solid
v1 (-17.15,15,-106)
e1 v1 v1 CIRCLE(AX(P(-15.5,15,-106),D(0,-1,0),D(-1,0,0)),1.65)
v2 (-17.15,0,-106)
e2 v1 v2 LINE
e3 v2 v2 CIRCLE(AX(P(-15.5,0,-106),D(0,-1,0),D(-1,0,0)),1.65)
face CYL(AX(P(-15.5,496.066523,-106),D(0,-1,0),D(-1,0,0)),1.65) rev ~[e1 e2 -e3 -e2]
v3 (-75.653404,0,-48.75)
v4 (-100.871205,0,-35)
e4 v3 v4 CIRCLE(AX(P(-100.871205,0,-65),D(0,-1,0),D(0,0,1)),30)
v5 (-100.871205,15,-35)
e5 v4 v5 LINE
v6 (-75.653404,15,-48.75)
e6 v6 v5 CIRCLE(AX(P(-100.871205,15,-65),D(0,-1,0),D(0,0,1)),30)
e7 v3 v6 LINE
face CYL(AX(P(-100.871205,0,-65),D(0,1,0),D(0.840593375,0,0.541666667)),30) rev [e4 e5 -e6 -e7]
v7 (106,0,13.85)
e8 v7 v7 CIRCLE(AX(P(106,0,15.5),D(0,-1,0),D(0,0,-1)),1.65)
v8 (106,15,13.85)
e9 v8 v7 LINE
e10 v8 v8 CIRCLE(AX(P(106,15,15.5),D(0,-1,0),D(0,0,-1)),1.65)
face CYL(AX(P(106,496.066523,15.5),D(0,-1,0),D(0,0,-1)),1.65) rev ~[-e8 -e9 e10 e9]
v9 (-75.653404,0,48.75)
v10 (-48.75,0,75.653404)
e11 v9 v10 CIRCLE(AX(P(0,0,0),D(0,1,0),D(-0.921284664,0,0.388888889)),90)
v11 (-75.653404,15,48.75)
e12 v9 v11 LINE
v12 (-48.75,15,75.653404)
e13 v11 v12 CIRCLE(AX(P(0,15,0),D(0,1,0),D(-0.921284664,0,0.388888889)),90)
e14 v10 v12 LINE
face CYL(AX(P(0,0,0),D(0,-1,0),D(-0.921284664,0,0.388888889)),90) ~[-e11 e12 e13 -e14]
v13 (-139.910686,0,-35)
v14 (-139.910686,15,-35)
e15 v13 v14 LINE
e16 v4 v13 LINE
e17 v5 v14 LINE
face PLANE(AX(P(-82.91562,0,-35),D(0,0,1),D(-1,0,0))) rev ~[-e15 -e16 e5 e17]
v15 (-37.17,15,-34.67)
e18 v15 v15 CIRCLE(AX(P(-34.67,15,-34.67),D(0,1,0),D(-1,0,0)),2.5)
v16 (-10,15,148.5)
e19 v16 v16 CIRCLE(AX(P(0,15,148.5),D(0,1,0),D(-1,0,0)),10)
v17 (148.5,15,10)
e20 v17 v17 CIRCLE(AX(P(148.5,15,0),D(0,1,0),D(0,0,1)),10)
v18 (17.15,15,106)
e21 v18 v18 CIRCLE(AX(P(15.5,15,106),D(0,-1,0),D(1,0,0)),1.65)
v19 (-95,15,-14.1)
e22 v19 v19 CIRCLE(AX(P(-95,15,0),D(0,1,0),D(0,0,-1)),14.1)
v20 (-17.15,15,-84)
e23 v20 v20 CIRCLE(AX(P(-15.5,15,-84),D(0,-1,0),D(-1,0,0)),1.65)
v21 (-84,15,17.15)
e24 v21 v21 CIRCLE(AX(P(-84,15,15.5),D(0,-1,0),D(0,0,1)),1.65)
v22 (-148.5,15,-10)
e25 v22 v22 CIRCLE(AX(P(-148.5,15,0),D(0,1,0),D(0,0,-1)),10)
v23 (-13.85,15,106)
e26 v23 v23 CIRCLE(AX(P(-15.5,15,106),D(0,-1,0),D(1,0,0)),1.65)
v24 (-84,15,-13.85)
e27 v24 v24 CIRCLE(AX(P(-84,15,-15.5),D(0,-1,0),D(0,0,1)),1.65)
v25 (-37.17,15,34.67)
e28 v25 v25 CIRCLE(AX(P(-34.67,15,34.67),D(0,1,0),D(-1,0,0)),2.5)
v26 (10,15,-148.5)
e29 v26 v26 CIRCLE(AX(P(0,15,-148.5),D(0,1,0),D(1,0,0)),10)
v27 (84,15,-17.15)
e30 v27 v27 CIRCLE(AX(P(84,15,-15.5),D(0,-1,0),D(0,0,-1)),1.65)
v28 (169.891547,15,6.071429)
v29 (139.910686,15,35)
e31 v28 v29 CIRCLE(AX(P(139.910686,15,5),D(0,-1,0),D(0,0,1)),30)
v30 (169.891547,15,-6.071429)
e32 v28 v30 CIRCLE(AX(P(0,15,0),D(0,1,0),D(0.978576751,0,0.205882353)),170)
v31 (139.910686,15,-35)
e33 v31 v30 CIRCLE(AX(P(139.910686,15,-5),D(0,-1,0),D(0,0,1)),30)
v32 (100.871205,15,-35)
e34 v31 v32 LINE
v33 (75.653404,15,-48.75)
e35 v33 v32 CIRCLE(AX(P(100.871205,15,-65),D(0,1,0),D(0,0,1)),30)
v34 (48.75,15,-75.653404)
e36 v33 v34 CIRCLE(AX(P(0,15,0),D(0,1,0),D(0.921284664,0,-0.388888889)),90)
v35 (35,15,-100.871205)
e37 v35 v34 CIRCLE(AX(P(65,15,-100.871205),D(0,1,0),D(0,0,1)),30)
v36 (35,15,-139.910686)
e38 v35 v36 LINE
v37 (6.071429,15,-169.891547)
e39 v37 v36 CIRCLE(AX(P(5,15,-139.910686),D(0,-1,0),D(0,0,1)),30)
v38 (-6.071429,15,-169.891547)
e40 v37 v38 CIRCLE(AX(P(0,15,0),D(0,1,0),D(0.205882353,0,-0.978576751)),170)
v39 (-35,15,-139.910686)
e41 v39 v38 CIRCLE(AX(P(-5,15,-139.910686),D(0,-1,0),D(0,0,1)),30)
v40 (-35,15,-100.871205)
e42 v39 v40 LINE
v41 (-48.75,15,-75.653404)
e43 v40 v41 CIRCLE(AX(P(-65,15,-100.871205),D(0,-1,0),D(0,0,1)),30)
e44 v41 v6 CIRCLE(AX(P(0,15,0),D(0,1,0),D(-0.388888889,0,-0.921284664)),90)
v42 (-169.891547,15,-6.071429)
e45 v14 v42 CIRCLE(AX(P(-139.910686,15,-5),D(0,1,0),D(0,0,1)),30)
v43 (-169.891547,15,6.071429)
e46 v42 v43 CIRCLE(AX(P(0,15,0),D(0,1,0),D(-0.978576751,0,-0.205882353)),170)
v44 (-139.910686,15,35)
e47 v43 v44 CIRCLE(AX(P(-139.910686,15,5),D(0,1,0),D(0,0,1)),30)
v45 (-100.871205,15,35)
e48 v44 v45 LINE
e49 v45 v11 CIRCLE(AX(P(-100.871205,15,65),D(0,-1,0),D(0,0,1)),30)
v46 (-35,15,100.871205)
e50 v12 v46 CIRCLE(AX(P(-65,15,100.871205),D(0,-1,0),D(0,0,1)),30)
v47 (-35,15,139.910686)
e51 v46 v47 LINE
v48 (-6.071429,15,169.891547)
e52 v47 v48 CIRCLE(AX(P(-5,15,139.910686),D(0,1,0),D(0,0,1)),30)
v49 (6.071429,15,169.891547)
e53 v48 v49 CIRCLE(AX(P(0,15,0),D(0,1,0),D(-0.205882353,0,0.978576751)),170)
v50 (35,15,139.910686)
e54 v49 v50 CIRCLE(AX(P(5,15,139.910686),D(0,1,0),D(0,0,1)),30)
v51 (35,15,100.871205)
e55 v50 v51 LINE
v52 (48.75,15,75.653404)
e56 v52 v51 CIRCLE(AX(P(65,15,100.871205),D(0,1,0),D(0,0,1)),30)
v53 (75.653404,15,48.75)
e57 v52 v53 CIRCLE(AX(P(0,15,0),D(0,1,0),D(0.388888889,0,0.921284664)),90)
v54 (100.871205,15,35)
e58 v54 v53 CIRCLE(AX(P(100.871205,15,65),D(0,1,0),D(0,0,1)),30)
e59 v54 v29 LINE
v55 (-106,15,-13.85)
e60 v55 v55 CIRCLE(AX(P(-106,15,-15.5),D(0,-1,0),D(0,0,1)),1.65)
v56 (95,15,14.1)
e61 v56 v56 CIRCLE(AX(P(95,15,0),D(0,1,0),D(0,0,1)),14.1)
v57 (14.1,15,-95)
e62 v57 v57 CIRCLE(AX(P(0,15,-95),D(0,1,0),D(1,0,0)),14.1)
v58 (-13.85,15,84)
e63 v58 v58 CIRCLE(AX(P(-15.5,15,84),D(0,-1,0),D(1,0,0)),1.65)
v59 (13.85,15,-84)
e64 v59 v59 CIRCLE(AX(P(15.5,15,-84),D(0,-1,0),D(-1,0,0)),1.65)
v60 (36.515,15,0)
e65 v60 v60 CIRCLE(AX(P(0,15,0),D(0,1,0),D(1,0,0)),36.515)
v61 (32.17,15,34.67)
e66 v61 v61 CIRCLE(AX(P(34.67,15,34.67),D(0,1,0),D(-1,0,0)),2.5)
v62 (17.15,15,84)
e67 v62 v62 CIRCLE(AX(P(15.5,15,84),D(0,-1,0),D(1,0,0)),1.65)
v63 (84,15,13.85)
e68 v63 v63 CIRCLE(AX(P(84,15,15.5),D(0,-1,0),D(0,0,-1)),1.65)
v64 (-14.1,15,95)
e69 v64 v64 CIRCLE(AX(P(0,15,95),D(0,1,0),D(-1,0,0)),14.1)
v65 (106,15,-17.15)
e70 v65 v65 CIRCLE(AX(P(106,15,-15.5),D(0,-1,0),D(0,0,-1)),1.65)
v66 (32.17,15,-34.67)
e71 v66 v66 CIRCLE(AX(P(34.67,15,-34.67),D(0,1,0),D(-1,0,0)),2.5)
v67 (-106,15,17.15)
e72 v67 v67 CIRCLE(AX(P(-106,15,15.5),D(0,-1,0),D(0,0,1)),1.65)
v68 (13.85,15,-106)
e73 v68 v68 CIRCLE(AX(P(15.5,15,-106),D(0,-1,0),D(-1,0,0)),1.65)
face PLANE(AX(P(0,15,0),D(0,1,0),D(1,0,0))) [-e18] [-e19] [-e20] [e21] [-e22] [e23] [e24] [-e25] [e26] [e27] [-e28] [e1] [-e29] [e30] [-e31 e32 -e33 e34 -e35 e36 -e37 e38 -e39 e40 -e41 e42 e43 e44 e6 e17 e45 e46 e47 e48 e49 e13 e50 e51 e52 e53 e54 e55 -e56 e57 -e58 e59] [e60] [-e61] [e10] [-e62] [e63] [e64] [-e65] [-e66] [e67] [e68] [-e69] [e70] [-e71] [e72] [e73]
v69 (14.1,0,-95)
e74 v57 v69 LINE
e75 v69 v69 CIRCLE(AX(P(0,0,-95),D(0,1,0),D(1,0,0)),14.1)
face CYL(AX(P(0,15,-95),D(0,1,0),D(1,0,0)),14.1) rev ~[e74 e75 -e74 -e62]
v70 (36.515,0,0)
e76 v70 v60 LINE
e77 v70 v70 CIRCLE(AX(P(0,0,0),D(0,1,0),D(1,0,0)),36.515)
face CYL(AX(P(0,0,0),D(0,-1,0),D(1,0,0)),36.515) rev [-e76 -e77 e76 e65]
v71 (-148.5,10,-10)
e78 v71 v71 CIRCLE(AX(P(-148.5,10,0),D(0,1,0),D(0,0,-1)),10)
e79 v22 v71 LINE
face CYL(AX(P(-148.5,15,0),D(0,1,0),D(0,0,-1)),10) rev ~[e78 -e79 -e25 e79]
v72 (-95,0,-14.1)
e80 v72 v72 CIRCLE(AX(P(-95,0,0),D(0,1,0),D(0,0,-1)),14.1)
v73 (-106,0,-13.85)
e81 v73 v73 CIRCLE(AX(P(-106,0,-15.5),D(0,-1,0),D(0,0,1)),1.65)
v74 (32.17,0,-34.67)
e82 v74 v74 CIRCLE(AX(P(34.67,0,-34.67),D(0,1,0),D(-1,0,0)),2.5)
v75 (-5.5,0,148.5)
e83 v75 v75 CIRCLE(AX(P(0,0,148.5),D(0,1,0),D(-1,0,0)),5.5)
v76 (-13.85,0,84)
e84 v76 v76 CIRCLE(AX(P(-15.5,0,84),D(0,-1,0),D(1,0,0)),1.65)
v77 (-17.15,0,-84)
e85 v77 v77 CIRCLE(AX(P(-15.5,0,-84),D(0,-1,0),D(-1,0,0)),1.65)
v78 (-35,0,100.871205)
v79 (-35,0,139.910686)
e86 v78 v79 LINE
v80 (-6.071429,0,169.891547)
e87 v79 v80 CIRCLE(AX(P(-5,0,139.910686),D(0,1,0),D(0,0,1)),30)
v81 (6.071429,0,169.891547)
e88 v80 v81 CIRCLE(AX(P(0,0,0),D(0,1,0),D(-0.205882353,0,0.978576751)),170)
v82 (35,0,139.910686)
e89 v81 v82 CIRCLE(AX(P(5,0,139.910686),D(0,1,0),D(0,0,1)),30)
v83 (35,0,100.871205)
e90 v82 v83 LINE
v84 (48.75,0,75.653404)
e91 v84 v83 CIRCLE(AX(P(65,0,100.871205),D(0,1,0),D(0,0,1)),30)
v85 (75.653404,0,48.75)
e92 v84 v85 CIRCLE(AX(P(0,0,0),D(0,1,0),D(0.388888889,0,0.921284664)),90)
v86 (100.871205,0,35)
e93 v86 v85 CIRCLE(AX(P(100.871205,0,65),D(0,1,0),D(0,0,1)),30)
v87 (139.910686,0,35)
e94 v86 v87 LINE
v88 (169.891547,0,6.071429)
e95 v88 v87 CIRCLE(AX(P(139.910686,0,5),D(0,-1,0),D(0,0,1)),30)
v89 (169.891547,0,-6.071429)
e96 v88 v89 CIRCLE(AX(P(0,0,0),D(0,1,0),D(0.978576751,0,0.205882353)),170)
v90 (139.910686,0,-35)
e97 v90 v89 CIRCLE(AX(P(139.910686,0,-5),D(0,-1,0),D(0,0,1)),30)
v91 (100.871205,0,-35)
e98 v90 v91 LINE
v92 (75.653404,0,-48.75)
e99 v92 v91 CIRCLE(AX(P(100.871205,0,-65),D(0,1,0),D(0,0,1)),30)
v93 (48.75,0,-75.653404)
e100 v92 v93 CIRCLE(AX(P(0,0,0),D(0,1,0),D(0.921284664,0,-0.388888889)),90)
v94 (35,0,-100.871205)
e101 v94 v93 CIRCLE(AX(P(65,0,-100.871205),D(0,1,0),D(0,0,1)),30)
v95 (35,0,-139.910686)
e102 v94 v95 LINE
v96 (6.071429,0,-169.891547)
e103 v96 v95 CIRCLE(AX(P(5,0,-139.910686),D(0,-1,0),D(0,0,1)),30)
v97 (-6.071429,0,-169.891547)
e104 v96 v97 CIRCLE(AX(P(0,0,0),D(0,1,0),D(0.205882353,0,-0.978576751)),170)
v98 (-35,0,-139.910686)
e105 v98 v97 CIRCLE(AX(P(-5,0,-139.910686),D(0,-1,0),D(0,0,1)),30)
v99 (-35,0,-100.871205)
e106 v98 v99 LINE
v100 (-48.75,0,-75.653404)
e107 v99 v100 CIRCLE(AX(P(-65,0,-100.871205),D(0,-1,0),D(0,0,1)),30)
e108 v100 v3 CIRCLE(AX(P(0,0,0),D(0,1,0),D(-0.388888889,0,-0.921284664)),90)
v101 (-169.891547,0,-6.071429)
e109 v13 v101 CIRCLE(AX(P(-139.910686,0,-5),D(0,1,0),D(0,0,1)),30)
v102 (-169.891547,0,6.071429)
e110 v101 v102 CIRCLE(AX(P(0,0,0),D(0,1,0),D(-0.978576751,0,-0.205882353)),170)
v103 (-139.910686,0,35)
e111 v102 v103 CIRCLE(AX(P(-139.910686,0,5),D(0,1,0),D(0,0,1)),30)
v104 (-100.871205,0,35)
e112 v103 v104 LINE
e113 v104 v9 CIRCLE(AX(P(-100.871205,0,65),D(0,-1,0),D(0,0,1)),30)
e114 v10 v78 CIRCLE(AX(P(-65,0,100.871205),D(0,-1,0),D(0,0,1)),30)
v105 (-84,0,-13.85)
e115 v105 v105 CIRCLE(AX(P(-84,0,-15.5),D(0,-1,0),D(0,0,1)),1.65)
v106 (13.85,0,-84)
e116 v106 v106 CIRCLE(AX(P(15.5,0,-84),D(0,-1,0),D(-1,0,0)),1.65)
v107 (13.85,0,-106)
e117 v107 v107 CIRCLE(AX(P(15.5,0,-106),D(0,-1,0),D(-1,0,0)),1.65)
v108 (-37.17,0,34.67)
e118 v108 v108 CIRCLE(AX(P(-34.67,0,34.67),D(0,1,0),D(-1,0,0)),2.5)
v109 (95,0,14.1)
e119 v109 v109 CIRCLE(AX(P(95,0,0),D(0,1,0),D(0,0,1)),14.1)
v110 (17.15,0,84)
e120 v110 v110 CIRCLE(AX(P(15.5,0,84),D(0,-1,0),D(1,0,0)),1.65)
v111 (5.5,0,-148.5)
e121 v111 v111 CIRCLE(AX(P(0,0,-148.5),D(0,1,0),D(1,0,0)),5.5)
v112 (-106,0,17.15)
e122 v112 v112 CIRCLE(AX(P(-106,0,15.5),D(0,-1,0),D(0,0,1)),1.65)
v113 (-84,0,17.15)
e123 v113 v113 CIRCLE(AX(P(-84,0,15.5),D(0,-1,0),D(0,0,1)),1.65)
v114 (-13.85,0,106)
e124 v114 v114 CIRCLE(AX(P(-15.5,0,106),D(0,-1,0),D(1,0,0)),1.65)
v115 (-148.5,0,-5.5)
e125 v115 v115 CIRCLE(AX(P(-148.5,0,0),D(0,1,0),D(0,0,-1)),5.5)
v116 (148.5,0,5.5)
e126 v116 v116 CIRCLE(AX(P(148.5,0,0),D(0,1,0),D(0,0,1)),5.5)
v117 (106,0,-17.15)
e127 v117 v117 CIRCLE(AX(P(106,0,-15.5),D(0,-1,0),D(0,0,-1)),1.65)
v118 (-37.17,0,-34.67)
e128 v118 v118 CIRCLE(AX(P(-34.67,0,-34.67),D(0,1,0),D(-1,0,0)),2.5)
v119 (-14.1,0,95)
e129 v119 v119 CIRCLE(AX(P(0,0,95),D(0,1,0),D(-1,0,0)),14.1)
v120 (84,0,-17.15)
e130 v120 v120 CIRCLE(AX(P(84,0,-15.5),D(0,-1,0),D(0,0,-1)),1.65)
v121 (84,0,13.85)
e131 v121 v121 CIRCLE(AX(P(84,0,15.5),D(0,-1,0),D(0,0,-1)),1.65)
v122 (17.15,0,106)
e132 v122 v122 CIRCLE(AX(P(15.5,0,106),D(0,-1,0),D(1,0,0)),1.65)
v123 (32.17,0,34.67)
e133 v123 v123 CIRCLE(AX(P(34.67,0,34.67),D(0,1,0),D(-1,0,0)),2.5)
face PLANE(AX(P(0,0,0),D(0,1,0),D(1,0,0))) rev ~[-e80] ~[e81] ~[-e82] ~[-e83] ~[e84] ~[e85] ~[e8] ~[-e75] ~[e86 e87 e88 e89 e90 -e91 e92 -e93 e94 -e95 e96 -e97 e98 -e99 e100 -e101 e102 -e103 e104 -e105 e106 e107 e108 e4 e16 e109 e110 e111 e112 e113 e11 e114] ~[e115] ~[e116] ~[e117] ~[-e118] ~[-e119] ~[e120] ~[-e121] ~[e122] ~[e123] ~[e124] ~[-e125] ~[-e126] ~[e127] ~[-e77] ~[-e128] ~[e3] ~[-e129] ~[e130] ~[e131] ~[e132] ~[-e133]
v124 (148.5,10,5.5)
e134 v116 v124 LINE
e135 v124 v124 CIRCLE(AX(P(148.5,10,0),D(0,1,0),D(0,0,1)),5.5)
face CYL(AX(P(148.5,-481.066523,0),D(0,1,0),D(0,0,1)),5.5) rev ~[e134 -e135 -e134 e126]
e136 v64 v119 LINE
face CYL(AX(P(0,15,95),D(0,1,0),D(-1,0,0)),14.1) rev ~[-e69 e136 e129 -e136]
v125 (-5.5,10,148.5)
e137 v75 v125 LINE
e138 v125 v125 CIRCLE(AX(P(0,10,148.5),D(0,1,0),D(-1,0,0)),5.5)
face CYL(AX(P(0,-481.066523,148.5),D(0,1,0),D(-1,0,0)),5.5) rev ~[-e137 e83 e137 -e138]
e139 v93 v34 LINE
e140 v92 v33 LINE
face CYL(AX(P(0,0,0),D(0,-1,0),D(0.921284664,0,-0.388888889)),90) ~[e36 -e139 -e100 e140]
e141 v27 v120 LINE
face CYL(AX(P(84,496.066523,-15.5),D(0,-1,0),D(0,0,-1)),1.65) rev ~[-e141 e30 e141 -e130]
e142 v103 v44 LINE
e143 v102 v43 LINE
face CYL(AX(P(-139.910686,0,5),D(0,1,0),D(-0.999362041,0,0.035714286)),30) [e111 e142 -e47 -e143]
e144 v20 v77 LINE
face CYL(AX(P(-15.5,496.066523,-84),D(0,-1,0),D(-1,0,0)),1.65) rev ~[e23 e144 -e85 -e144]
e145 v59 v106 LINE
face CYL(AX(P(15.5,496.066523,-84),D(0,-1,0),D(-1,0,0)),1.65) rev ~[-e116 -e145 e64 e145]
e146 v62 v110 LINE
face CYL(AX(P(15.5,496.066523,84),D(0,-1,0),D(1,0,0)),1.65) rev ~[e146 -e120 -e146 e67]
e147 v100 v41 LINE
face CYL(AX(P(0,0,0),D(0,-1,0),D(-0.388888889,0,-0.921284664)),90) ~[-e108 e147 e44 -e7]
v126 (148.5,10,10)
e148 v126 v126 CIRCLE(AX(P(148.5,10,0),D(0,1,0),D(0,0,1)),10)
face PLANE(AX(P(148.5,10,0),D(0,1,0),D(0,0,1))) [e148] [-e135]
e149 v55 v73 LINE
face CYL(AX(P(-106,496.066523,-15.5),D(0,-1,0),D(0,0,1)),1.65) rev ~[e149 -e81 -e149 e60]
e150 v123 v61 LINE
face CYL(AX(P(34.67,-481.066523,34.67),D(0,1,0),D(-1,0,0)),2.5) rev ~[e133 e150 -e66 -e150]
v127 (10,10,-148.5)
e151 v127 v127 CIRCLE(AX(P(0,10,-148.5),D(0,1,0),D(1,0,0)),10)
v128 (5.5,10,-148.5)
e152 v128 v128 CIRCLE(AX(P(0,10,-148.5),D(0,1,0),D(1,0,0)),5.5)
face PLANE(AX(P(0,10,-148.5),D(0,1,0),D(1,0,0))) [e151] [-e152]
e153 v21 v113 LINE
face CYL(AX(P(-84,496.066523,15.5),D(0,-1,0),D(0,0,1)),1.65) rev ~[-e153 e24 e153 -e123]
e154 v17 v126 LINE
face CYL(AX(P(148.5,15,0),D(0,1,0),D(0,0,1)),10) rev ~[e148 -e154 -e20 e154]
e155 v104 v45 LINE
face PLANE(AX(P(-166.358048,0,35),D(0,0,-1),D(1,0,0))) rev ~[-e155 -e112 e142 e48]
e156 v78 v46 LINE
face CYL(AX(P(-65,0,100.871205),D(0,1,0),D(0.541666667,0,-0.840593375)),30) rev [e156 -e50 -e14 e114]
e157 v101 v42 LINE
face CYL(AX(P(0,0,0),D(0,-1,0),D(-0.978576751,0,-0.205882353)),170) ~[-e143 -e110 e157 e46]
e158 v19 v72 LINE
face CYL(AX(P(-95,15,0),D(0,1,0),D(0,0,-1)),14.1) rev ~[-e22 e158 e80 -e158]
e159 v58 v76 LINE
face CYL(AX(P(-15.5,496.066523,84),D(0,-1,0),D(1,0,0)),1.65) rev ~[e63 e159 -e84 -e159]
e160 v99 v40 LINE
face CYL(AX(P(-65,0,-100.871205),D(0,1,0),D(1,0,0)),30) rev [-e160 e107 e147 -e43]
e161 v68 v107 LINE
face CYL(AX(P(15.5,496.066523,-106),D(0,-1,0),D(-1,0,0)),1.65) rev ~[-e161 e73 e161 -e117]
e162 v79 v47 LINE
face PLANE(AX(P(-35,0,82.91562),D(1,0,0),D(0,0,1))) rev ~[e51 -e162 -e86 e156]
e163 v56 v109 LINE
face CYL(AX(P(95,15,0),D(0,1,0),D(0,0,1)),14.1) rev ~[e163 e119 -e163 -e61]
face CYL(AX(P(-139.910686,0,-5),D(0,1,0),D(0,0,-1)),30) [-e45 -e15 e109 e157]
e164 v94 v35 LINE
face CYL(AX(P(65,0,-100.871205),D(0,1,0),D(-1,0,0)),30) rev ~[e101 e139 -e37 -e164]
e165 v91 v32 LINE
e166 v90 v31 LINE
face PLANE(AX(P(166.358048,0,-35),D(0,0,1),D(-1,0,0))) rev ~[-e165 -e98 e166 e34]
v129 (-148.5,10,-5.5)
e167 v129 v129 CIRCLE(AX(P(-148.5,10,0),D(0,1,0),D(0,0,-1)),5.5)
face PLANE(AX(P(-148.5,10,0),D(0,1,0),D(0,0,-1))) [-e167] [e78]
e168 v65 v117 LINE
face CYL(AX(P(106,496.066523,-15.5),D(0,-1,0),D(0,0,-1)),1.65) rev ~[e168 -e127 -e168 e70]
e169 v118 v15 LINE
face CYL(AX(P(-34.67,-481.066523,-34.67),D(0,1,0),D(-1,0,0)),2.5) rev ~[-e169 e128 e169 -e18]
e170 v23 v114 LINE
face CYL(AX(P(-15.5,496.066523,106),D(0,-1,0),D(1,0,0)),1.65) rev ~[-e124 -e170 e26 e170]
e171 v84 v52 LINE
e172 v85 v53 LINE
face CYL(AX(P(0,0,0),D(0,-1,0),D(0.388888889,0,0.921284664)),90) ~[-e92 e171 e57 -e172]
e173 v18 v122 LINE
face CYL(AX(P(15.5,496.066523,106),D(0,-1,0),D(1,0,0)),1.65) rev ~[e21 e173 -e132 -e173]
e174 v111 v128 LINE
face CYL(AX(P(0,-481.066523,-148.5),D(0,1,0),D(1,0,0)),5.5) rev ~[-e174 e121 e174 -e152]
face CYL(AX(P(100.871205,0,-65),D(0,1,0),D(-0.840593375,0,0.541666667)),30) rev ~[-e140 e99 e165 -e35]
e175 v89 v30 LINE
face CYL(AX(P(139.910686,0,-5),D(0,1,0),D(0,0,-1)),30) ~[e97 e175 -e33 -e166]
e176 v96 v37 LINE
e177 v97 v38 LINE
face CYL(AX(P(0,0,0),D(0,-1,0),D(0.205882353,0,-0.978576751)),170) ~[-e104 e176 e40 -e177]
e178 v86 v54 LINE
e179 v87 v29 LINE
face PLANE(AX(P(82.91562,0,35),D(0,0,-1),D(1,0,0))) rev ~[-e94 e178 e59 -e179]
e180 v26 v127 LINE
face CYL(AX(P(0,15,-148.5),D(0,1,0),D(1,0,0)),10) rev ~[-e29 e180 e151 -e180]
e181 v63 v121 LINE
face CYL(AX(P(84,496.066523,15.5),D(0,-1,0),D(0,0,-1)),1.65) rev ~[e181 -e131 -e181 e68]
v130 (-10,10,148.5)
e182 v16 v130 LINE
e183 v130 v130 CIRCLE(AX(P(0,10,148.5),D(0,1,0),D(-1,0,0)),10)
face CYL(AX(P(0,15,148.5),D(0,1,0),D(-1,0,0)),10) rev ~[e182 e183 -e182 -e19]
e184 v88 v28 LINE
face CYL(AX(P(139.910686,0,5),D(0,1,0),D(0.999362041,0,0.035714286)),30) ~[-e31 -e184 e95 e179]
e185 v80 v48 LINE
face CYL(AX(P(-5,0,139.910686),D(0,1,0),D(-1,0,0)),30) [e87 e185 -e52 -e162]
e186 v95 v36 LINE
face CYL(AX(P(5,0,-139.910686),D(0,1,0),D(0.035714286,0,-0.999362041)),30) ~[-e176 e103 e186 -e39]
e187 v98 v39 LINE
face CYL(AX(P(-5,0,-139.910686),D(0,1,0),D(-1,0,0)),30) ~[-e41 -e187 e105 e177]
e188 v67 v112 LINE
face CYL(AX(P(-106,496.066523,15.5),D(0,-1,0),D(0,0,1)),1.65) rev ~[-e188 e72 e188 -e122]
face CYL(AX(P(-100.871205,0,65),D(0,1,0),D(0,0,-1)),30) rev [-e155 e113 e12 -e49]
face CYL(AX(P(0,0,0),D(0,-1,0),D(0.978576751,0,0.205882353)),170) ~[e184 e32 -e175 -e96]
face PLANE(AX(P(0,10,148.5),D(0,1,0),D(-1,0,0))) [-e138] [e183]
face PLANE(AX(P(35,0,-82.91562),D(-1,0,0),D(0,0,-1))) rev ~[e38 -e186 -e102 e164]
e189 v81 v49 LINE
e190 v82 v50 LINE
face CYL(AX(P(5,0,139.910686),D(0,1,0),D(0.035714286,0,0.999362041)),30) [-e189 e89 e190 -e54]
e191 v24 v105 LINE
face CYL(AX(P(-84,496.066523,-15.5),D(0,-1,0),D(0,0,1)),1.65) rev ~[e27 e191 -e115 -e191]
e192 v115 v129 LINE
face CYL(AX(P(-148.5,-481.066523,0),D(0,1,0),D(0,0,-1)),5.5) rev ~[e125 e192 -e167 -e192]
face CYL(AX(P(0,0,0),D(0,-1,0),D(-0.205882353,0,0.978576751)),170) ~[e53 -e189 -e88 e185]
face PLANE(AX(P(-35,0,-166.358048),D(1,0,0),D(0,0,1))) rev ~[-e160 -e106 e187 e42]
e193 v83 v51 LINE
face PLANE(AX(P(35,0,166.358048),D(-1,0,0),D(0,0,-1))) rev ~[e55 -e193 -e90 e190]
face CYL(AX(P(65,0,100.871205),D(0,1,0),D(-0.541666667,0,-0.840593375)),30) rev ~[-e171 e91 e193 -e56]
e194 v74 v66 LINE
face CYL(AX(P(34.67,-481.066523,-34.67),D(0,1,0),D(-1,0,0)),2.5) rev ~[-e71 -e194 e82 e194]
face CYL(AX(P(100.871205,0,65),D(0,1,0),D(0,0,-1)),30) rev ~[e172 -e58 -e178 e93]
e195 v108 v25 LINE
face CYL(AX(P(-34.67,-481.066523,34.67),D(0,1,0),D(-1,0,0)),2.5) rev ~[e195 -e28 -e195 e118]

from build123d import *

# Parameters (mm, degrees)
SKETCH1_R             = 36.515
BOSS_EXTRUDE1_DEPTH   = 15
FILLET1_R             = 30
M6_TAPPED_HOLE1_D     = 5
SKETCH4_R             = 10
CUT_EXTRUDE1_DEPTH    = 5
M10_CLEARANCE_HOLE1_D = 11
CIRPATTERN1_COUNT     = 4
SKETCH7_R             = 14.1
CUT_EXTRUDE2_DEPTH    = 16
CIRPATTERN2_COUNT     = 4
M4_TAPPED_HOLE1_D     = 3.3
CIRPATTERN3_COUNT     = 4


with BuildPart() as part:
    # Sketch1 → Boss-Extrude1 (new body)
    with BuildSketch(Plane(origin=(0, 0, 0), x_dir=(1, 0, 0), z_dir=(0, 1, 0))):
        with BuildLine():
            Line((-35, 166.358047596), (-35, 82.915619759))
            ThreePointArc((-35, 82.915619759), (-63.639610307, 63.639610307), (-82.915619759, 35))
            Line((-82.915619759, 35), (-166.358047596, 35))
            ThreePointArc((-166.358047596, 35), (-170, 0), (-166.358047596, -35))
            Line((-166.358047596, -35), (-82.915619759, -35))
            ThreePointArc((-82.915619759, -35), (-63.639610307, -63.639610307), (-35, -82.915619759))
            Line((-35, -82.915619759), (-35, -166.358047596))
            ThreePointArc((-35, -166.358047596), (0, -170), (35, -166.358047596))
            Line((35, -166.358047596), (35, -82.915619759))
            ThreePointArc((35, -82.915619759), (63.639610307, -63.639610307), (82.915619759, -35))
            Line((82.915619759, -35), (166.358047596, -35))
            ThreePointArc((166.358047596, -35), (170, 0), (166.358047596, 35))
            Line((166.358047596, 35), (82.915619759, 35))
            ThreePointArc((82.915619759, 35), (63.639610307, 63.639610307), (35, 82.915619759))
            Line((35, 82.915619759), (35, 166.358047596))
            ThreePointArc((35, 166.358047596), (0, 170), (-35, 166.358047596))
        make_face()
        Circle(SKETCH1_R, mode=Mode.SUBTRACT)
    extrude(amount=BOSS_EXTRUDE1_DEPTH)

    # Fillet1
    fillet1_edges = [part.edges().sort_by_distance(p)[0] for p in [
        (-166.358047596, 7.5, 35),
        (-166.358047596, 7.5, -35),
        (-82.915619759, 7.5, -35),
        (-35, 7.5, -82.915619759),
        (-35, 7.5, -166.358047596),
        (35, 7.5, -166.358047596),
        (35, 7.5, -82.915619759),
        (82.915619759, 7.5, -35),
        (166.358047596, 7.5, -35),
        (166.358047596, 7.5, 35),
        (82.915619759, 7.5, 35),
        (35, 7.5, 82.915619759),
        (35, 7.5, 166.358047596),
        (-35, 7.5, 166.358047596),
        (-35, 7.5, 82.915619759),
        (-82.915619759, 7.5, 35),
    ]]
    fillet(fillet1_edges, radius=FILLET1_R)

    # M6 Tapped Hole1 (through all)
    with Locations(Plane.XZ):
        with Locations((-34.67, -34.67), (34.67, -34.67), (34.67, 34.67), (-34.67, 34.67)):
            Hole(M6_TAPPED_HOLE1_D / 2)

    # Sketch4 → Cut-Extrude1 (cut)
    with BuildSketch(Plane(origin=(0, 15, 0), x_dir=(1, 0, 0), z_dir=(0, 1, 0))):
        with Locations((0, 148.5)):
            Circle(SKETCH4_R)
    cut_extrude1 = extrude(amount=-CUT_EXTRUDE1_DEPTH, mode=Mode.SUBTRACT)

    # M10 Clearance Hole1 (through all)
    with Locations(Plane(origin=(0, 0, 0), x_dir=(-1, 0, 0), z_dir=(0, -1, 0))):
        with Locations((0, 148.5)):
            m10_clearance_hole1 = Hole(M10_CLEARANCE_HOLE1_D / 2)

    # CirPattern1: Cut-Extrude1, M10 Clearance Hole1 ×4 about axis
    cirpattern1_axis = Axis((0, 0, 0), (0, 1, 0))
    for i in range(1, CIRPATTERN1_COUNT):
        add(cut_extrude1.rotate(cirpattern1_axis, i * 360 / CIRPATTERN1_COUNT), mode=Mode.SUBTRACT)
        add(m10_clearance_hole1.rotate(cirpattern1_axis, i * 360 / CIRPATTERN1_COUNT), mode=Mode.SUBTRACT)

    # Sketch7 → Cut-Extrude2 (cut, through all)
    with BuildSketch(Plane(origin=(0, 15, 0), x_dir=(1, 0, 0), z_dir=(0, 1, 0))):
        with Locations((0, 95)):
            Circle(SKETCH7_R)
    cut_extrude2 = extrude(amount=-CUT_EXTRUDE2_DEPTH, mode=Mode.SUBTRACT)

    # CirPattern2: Cut-Extrude2 ×4 about axis
    cirpattern2_axis = Axis((0, 0, 0), (0, 1, 0))
    for i in range(1, CIRPATTERN2_COUNT):
        add(cut_extrude2.rotate(cirpattern2_axis, i * 360 / CIRPATTERN2_COUNT), mode=Mode.SUBTRACT)

    # M4 Tapped Hole1 (through all)
    with Locations(Plane(origin=(0, 15, 0), x_dir=(1, 0, 0), z_dir=(0, 1, 0))):
        with Locations((-15.5, 106), (-15.5, 84), (15.5, 84), (15.5, 106)):
            m4_tapped_hole1 = Hole(M4_TAPPED_HOLE1_D / 2)

    # CirPattern3: M4 Tapped Hole1 ×4 about axis
    cirpattern3_axis = Axis((0, 0, 0), (0, 1, 0))
    for i in range(1, CIRPATTERN3_COUNT):
        add(m4_tapped_hole1.rotate(cirpattern3_axis, i * 360 / CIRPATTERN3_COUNT), mode=Mode.SUBTRACT)


solid = part.part
